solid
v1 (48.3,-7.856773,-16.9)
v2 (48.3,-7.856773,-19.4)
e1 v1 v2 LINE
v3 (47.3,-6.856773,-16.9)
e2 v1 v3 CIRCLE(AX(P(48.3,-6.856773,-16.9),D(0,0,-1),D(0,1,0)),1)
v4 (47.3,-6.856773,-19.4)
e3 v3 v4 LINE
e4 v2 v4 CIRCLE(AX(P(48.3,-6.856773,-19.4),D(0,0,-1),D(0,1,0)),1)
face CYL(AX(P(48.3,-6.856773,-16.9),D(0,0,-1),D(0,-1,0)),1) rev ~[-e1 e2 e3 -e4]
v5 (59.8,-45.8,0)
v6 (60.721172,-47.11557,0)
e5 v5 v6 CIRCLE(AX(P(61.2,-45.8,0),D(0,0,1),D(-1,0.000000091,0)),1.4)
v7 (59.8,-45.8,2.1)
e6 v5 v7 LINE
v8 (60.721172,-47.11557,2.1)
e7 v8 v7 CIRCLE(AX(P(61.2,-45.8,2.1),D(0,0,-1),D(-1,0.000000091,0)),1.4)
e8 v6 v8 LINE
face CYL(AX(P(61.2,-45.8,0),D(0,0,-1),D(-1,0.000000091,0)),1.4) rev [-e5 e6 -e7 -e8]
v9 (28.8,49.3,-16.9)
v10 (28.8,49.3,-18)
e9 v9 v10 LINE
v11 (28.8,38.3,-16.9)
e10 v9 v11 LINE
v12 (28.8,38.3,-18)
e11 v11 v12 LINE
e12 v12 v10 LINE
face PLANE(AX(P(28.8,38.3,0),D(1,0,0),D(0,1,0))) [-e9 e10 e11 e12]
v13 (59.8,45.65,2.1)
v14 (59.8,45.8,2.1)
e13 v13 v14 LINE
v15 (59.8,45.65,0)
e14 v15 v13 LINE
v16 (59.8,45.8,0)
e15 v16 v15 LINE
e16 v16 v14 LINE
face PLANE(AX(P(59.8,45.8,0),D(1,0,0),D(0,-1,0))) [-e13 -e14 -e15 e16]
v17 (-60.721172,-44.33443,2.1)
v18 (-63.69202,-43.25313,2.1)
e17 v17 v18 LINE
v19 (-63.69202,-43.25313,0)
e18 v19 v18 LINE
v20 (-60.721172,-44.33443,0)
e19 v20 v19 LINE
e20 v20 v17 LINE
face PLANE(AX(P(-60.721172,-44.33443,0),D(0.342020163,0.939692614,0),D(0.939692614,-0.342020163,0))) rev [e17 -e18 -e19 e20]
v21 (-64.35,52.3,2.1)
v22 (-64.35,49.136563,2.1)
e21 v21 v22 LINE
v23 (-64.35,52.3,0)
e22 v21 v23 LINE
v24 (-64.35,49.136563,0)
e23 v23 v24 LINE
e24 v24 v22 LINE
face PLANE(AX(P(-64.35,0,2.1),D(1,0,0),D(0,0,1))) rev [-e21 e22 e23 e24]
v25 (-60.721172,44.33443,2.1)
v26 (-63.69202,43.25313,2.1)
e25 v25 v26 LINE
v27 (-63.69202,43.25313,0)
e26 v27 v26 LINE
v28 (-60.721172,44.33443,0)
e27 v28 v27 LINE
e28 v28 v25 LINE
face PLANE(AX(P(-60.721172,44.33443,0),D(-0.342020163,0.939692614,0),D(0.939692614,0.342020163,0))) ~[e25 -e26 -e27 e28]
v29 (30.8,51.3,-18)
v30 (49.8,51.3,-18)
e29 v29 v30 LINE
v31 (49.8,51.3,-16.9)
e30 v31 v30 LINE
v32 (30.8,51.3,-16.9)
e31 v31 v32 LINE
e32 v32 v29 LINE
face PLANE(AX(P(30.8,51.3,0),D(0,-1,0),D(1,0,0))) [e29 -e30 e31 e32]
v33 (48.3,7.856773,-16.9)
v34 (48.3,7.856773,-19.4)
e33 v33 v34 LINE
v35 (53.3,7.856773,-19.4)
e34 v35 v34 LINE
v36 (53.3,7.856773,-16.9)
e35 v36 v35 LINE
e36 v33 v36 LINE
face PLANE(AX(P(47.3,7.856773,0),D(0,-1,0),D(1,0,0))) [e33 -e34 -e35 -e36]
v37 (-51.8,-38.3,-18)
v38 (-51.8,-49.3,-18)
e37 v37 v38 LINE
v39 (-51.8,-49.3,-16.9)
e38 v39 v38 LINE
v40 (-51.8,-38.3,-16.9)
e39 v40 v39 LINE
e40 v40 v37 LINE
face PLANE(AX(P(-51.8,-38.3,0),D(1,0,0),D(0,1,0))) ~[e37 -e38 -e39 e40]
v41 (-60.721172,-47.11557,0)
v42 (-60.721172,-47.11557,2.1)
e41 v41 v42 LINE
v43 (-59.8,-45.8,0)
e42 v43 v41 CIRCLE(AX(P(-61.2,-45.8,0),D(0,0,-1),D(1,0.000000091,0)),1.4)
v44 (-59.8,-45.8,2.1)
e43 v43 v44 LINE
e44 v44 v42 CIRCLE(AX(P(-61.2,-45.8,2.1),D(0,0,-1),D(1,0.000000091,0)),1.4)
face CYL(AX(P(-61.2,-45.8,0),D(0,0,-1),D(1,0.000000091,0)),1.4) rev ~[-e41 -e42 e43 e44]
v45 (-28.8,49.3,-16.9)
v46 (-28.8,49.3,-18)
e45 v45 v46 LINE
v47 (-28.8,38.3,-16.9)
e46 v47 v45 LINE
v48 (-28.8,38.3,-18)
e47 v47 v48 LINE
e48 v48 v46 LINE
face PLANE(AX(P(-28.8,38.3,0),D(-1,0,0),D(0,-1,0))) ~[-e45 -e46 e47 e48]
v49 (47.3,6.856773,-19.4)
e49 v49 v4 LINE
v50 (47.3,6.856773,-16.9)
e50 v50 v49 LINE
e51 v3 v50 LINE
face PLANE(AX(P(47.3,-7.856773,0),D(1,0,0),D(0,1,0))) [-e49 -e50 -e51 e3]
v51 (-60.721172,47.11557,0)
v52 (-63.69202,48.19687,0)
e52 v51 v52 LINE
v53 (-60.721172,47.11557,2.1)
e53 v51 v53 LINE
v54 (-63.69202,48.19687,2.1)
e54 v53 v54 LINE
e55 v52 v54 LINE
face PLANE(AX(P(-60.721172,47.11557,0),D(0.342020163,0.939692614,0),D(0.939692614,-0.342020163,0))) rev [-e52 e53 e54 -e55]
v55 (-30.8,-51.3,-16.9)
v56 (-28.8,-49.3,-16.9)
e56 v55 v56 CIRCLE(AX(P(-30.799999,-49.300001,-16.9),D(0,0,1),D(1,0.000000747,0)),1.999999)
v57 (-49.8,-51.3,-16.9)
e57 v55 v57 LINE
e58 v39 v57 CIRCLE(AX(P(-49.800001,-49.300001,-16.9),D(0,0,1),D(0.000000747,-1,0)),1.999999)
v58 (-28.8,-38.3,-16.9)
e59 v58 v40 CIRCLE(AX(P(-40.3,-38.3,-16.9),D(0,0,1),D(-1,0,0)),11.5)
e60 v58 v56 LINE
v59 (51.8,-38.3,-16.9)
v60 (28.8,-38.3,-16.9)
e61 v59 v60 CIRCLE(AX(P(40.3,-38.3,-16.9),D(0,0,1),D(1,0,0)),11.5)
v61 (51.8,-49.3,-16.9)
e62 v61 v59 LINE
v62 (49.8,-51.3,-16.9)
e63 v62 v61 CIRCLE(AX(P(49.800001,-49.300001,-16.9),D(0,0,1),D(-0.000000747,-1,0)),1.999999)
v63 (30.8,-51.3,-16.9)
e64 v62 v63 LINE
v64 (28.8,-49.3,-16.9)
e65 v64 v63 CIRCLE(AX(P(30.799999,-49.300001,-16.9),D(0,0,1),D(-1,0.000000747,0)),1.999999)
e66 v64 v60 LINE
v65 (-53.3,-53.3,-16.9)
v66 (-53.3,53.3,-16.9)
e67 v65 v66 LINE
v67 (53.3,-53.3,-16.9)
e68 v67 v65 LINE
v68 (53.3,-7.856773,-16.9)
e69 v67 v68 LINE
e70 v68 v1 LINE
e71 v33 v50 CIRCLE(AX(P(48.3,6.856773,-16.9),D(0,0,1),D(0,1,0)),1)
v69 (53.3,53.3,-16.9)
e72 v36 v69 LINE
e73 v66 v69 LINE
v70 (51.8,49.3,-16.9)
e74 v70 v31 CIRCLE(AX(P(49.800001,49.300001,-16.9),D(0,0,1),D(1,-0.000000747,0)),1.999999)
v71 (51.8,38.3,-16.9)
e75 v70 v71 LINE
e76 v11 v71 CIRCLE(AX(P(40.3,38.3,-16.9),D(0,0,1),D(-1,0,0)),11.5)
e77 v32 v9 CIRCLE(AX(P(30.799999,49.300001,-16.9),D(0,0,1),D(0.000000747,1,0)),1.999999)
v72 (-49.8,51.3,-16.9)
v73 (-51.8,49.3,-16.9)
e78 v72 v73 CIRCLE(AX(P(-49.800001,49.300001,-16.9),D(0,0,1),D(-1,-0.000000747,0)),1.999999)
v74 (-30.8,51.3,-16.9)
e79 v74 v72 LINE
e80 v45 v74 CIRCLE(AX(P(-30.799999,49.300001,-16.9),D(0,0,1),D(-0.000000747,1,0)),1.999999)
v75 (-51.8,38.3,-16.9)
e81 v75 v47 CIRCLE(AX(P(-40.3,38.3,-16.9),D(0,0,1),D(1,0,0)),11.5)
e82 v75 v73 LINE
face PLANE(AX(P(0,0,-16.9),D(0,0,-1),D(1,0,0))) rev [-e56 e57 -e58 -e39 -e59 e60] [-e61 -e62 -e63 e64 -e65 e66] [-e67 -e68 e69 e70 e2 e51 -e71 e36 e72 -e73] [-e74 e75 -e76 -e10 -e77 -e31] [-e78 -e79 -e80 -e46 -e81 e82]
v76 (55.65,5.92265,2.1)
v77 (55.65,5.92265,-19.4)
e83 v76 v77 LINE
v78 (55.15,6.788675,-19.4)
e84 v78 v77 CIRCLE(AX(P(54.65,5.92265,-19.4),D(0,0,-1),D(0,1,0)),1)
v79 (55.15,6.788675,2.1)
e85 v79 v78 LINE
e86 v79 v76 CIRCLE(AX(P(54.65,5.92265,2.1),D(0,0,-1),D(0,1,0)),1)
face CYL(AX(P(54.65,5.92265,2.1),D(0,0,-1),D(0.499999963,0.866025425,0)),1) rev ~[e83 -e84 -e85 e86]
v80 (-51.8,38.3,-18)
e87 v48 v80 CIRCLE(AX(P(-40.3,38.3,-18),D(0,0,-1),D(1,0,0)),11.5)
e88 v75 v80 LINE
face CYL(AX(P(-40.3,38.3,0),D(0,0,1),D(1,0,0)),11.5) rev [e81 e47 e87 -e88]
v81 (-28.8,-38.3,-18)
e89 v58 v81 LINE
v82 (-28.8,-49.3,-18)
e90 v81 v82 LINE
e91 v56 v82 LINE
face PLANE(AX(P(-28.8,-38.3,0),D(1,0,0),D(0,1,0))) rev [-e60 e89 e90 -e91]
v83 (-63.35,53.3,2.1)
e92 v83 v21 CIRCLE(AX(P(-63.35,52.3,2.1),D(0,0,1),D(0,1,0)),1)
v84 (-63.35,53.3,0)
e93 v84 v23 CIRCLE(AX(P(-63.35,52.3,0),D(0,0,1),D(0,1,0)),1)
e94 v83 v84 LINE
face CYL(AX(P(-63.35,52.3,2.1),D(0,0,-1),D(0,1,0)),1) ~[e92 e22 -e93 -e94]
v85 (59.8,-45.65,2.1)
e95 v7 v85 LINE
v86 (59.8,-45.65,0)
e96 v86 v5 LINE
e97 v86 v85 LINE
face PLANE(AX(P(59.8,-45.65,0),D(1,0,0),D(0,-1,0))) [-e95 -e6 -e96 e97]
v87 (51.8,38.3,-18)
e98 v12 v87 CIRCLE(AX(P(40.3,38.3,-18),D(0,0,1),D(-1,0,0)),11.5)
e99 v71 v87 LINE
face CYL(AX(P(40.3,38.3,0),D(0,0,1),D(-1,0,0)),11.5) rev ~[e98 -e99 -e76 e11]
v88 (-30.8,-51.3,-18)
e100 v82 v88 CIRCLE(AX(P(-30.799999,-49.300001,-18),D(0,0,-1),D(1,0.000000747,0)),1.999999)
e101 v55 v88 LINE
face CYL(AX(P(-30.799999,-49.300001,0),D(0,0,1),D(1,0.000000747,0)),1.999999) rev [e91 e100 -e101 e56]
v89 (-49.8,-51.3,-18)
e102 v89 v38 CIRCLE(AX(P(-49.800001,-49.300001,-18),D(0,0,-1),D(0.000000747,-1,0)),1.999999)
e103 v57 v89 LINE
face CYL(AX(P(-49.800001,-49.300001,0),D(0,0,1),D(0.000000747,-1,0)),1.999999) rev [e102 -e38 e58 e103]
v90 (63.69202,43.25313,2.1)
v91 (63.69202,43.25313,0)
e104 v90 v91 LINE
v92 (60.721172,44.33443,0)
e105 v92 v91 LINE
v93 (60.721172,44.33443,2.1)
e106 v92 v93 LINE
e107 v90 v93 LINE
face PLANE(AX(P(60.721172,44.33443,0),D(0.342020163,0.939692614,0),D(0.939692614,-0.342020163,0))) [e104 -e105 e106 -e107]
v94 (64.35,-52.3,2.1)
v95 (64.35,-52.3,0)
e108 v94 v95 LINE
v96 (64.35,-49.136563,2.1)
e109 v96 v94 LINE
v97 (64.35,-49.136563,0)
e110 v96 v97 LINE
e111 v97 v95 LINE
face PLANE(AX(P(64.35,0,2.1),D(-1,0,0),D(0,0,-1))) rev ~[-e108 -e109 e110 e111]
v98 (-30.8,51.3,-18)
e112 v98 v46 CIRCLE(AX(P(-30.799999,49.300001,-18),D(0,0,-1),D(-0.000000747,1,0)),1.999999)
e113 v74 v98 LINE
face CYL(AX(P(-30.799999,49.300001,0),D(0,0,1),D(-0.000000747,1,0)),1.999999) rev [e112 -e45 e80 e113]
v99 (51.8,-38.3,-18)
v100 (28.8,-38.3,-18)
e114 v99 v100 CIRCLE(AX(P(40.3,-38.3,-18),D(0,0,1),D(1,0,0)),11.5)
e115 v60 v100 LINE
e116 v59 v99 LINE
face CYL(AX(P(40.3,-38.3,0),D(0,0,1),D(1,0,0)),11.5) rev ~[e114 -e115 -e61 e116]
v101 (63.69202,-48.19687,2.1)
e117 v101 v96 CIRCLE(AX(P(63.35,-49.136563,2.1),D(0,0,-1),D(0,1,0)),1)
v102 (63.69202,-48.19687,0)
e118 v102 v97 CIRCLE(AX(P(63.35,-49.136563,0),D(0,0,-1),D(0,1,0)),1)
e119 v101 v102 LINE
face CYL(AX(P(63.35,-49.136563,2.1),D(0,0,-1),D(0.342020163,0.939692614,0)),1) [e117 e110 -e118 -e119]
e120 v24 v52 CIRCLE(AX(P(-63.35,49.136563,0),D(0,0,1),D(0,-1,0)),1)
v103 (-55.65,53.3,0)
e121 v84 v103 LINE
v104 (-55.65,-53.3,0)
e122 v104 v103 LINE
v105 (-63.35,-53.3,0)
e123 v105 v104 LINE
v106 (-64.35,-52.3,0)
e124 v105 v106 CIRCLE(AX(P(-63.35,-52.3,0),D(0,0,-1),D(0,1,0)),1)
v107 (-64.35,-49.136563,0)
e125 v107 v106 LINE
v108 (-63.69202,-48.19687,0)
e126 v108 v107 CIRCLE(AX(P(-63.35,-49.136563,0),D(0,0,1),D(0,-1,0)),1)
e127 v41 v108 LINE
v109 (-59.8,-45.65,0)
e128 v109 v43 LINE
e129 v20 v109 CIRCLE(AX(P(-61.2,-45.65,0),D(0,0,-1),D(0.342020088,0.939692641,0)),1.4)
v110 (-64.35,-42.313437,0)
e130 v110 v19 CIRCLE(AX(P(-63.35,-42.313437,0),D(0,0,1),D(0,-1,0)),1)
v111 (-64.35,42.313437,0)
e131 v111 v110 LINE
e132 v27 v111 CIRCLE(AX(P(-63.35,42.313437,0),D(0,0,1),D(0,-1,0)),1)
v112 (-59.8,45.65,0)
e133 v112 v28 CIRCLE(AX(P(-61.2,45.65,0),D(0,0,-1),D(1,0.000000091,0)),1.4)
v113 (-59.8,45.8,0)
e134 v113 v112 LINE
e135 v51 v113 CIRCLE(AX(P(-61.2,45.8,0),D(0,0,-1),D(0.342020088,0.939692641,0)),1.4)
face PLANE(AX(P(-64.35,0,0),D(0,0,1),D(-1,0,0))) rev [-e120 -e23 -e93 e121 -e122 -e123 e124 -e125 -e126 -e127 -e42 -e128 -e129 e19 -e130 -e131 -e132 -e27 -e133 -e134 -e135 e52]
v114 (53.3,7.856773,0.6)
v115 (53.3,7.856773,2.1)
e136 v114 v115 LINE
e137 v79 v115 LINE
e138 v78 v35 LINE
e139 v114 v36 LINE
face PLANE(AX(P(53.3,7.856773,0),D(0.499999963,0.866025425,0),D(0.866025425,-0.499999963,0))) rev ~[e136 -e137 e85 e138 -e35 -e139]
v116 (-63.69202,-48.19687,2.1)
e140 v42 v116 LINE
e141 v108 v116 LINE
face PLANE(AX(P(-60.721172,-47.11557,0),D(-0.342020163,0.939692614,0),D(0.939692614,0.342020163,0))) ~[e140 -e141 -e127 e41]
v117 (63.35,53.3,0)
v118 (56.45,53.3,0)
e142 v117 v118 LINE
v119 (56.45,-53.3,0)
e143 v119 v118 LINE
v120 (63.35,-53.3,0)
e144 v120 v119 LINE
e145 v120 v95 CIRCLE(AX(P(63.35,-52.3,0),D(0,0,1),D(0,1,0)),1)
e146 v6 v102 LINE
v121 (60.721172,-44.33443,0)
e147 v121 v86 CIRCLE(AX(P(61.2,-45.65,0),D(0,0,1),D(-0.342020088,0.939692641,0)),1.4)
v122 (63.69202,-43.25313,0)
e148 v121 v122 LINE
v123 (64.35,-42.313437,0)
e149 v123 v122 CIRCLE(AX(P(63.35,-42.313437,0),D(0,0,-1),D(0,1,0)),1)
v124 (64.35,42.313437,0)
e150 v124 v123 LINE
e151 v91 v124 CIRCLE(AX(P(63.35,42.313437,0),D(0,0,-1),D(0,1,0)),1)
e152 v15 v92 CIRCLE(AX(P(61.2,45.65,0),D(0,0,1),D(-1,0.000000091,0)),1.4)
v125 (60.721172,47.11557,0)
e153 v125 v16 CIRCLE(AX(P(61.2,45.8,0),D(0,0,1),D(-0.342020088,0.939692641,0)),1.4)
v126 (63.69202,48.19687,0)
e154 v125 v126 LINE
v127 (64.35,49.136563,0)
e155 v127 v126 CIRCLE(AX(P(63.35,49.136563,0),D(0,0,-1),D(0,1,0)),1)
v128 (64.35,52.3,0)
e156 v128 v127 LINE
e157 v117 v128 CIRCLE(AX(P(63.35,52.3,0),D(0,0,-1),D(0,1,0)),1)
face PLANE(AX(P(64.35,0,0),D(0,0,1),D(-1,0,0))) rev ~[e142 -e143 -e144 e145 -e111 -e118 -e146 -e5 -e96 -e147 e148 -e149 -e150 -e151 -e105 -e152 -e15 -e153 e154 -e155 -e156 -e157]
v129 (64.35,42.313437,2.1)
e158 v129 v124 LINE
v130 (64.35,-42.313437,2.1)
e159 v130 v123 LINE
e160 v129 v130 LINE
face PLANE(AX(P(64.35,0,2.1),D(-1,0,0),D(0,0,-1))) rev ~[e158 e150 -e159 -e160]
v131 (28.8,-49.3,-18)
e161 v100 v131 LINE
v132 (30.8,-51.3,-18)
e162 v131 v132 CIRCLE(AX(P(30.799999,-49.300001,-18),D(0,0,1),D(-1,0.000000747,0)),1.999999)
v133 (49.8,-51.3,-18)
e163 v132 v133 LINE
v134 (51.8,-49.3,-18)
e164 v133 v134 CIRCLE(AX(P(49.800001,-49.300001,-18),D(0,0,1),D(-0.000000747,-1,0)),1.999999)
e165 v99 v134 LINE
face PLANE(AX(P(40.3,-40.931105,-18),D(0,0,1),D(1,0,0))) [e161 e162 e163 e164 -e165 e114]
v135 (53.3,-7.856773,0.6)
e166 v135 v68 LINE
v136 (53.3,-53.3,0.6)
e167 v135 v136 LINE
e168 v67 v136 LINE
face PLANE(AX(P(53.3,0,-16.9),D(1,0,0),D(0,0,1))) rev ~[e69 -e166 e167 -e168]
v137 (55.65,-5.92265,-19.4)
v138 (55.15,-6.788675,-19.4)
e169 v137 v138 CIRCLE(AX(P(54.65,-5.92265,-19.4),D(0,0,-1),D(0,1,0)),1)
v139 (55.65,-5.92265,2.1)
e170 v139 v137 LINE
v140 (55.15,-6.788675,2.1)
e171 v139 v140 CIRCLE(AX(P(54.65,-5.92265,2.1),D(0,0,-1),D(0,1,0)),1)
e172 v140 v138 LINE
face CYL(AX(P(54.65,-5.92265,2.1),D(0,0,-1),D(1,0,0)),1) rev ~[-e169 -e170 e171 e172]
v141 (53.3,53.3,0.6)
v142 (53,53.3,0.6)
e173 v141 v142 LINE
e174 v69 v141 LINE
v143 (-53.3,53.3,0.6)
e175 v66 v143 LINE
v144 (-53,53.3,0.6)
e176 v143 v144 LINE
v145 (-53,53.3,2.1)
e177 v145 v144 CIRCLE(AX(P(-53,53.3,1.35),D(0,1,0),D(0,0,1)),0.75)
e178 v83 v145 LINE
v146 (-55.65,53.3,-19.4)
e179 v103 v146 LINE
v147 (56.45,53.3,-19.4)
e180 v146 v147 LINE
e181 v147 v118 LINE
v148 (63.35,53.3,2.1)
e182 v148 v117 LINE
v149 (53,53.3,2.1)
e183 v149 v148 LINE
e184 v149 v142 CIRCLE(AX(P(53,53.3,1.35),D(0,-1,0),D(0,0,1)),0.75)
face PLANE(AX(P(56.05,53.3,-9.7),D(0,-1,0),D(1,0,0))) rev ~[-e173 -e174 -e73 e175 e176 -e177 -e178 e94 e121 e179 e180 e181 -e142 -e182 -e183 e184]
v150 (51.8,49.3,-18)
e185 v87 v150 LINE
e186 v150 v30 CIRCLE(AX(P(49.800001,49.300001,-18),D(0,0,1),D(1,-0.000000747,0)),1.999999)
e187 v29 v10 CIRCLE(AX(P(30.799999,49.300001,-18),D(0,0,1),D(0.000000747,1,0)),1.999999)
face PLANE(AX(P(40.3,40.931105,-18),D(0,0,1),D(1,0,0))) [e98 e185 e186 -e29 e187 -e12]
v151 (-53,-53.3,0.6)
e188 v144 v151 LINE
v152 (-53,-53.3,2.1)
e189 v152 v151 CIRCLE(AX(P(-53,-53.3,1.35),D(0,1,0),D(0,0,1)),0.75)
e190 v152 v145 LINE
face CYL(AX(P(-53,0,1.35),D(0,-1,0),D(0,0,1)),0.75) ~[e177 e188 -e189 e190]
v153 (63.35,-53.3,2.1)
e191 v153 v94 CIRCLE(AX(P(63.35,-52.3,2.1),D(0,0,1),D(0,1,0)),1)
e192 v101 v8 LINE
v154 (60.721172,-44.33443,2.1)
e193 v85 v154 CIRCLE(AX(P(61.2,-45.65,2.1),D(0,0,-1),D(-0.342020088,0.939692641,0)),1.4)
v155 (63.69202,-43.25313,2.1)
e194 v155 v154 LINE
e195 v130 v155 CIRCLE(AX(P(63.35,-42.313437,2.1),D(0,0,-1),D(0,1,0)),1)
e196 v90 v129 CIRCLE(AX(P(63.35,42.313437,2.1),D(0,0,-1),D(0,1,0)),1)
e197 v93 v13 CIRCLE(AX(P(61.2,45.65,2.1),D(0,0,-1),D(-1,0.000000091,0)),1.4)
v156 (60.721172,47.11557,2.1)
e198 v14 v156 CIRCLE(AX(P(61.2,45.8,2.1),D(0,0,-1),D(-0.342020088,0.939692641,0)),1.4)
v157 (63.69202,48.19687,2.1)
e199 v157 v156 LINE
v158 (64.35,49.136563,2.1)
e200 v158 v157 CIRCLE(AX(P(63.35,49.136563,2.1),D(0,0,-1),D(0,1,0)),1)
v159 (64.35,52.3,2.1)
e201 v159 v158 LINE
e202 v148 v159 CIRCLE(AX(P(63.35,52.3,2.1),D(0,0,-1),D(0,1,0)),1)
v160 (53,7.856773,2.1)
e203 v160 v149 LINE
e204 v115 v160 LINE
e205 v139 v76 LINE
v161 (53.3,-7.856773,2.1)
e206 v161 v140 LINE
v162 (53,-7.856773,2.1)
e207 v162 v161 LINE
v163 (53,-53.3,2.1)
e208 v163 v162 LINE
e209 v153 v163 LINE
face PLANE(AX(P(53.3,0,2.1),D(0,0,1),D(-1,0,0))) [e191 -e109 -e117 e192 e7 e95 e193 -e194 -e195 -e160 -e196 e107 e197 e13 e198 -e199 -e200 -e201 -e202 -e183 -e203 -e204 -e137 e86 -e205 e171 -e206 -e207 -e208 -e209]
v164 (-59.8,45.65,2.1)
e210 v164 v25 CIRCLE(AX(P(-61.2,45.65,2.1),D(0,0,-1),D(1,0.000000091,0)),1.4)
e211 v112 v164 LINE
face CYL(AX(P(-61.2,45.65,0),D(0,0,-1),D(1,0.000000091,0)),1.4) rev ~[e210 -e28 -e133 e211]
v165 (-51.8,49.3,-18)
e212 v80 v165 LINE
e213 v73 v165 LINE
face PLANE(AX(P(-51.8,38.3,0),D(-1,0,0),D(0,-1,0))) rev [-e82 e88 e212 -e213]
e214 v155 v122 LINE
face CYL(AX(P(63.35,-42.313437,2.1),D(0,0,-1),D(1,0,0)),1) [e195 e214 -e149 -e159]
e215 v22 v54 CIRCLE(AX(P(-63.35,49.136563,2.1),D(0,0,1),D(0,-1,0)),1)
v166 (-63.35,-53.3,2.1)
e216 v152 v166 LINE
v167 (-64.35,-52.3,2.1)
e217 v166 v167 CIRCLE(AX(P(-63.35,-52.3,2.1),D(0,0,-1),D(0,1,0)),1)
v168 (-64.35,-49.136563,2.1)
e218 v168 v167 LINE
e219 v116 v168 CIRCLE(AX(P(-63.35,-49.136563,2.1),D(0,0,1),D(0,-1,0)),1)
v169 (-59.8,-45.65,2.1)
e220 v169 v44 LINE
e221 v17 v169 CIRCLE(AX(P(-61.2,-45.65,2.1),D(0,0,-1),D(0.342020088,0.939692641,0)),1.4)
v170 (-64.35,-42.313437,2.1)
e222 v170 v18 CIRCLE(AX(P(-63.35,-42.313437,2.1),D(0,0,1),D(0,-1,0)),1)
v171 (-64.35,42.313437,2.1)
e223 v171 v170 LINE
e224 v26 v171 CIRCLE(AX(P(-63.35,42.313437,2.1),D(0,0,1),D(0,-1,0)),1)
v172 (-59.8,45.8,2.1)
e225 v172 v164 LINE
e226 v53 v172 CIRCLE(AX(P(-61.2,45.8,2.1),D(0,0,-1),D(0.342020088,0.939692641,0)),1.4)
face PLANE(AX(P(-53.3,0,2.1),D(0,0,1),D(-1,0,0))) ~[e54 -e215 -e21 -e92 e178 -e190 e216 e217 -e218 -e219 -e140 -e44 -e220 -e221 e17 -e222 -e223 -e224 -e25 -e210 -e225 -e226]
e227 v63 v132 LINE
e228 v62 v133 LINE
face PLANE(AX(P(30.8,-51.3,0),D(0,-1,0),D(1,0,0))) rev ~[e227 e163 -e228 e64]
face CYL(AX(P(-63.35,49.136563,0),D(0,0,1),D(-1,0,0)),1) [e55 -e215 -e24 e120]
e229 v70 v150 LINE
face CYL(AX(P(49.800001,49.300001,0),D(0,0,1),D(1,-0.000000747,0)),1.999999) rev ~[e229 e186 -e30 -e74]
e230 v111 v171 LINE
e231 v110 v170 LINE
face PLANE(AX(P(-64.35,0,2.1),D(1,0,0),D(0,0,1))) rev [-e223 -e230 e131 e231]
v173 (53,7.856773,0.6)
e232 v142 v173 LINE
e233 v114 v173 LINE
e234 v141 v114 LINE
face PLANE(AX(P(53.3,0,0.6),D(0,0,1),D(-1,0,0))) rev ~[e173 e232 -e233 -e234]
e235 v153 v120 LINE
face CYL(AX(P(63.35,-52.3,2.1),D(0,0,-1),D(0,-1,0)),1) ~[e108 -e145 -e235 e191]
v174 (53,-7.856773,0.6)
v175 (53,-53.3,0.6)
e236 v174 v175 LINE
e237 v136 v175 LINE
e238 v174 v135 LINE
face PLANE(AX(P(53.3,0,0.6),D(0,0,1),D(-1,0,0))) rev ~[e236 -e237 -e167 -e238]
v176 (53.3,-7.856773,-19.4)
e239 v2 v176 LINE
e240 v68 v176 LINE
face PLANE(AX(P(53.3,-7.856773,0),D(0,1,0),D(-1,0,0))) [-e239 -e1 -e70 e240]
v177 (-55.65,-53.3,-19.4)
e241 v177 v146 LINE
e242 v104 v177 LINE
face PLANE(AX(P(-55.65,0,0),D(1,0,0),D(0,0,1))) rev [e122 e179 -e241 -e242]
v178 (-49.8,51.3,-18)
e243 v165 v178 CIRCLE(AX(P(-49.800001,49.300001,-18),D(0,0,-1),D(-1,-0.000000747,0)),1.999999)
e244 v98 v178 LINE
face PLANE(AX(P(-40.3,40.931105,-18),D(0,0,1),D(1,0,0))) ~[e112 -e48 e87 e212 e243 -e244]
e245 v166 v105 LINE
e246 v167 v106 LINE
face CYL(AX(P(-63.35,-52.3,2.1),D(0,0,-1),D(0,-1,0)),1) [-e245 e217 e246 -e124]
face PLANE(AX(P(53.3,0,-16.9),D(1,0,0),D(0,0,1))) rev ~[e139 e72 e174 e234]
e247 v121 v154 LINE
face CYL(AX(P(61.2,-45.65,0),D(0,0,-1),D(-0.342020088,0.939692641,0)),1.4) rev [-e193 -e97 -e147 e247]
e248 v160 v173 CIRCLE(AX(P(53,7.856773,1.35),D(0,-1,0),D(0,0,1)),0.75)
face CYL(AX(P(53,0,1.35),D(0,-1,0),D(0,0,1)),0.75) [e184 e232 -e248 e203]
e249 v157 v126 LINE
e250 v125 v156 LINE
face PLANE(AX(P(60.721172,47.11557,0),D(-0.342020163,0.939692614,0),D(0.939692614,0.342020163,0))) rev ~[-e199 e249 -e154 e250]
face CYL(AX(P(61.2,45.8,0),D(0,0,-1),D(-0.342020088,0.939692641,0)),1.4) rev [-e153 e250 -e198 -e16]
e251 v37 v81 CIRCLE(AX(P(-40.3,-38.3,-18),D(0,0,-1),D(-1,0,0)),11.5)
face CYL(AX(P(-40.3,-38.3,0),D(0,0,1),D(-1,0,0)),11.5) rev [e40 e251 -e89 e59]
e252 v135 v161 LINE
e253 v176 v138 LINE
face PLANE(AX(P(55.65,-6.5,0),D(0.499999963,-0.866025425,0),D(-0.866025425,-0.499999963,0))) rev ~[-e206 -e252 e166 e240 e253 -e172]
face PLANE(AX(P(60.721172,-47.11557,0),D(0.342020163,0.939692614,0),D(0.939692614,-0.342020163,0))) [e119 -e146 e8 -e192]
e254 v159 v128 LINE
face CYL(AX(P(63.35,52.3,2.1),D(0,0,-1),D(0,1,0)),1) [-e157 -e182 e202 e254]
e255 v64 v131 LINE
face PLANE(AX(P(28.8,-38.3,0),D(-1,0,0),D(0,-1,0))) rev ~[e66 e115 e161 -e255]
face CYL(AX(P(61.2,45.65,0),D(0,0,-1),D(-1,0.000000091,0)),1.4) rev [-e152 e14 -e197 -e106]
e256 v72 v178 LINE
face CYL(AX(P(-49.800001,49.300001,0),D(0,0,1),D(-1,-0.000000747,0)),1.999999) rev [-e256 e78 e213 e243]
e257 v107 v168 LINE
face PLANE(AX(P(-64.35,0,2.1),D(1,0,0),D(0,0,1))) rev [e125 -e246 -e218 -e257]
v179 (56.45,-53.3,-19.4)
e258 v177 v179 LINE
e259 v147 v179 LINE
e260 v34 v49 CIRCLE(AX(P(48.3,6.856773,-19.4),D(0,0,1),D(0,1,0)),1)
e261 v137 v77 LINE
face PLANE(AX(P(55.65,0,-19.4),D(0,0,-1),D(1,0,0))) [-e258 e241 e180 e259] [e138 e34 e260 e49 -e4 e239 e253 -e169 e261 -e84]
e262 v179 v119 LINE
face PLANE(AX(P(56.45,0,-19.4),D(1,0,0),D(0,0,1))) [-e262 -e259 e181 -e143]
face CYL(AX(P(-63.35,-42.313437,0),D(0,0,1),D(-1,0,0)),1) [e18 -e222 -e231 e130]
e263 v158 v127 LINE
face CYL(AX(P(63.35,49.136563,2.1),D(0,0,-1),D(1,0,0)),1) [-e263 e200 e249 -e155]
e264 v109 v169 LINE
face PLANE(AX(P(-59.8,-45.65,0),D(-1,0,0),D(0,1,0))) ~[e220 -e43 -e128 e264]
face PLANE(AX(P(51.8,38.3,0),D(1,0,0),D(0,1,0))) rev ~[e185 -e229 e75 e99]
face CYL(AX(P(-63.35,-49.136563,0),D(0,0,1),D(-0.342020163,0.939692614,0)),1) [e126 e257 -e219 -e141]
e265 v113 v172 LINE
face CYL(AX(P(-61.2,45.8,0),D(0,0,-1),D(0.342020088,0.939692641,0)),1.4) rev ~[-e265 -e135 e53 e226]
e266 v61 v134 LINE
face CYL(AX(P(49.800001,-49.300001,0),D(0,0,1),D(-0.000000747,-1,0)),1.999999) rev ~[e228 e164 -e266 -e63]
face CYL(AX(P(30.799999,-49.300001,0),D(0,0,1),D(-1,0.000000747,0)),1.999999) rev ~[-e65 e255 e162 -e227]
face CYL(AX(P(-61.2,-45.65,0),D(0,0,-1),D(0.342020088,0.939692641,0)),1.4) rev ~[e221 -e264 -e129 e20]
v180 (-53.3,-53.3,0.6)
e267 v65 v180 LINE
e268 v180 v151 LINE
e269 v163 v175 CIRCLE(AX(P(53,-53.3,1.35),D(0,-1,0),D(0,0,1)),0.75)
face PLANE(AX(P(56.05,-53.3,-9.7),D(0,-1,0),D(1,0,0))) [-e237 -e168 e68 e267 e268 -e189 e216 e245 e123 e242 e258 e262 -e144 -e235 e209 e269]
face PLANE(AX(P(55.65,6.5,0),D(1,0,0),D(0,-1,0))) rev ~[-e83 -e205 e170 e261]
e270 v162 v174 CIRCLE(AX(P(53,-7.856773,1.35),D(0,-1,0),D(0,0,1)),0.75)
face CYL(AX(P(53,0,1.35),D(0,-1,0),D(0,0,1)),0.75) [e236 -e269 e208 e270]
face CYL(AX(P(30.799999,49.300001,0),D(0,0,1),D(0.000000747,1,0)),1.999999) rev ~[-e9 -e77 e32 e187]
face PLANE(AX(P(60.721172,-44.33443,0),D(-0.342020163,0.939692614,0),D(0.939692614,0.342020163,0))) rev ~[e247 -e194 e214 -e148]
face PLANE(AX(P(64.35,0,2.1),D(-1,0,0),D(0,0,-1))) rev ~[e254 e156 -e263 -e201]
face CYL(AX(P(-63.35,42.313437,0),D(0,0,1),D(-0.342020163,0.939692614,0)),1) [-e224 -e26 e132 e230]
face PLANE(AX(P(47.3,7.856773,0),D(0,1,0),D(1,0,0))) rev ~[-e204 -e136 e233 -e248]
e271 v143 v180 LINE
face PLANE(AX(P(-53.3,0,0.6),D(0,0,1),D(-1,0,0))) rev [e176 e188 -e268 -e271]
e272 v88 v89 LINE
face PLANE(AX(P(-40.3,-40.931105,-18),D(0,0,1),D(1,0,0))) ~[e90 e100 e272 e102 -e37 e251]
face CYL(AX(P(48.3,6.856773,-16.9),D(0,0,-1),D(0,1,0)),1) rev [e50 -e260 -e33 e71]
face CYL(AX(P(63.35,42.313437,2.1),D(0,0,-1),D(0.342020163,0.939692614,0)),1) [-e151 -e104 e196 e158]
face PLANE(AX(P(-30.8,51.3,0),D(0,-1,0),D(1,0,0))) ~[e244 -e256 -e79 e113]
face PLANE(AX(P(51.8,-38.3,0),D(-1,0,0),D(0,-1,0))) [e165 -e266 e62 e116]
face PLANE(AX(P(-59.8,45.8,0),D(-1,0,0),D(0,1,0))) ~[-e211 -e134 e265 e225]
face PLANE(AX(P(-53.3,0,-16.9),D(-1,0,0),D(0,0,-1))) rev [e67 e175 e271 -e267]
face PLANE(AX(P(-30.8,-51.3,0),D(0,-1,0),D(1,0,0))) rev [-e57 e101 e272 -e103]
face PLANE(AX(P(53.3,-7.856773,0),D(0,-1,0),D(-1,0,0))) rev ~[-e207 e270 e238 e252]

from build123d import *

# Parameters (mm, degrees)
PAD001_DEPTH         = 53.3
PAD002_DEPTH         = 53.3
POCKET_DEPTH         = 18
POCKET001_DEPTH      = 5
SKETCH_W             = 0.8
SKETCH_H             = 19.4
PAD_DEPTH            = 53.3
POCKET004_DEPTH      = 19.401
POCKET004_DEPTH_BACK = -2.101
FILLET_R             = 1
FILLET001_R          = 1


with BuildPart() as part:
    # Sketch001 → Pad001 (new body, symmetric)
    with BuildSketch(Plane.XZ):
        Polygon((64.35, 0), (55.65, 0), (55.65, -19.4), (0, -19.4), (0, -16.9), (53.3, -16.9), (53.3, 2.1), (64.35, 2.1), align=None)
    pad001 = extrude(amount=PAD001_DEPTH, both=True)

    # Sketch002 → Pad002 (join, symmetric)
    with BuildSketch(Plane.XZ):
        with BuildLine():
            ThreePointArc((53, 2.1), (52.25, 1.35), (53, 0.6))
            Line((53.3, 0.6), (53, 0.6))
            Line((53.3, 2.1), (53.3, 0.6))
            Line((53.3, 2.1), (53, 2.1))
        make_face()
    pad002 = extrude(amount=PAD002_DEPTH, both=True)

    # Sketch003 → Pocket (cut)
    with BuildSketch(Plane.XY):
        with BuildLine():
            ThreePointArc((28.8, 38.3), (40.3, 26.8), (51.8, 38.3))
            Line((51.8, 38.3), (51.8, 49.3))
            ThreePointArc((51.8, 49.3), (51.214214, 50.714214), (49.8, 51.3))
            Line((30.8, 51.3), (49.8, 51.3))
            ThreePointArc((30.8, 51.3), (29.385786, 50.714214), (28.8, 49.3))
            Line((28.8, 38.3), (28.8, 49.3))
        make_face()
        with BuildLine():
            ThreePointArc((51.8, -38.3), (40.3, -26.8), (28.8, -38.3))
            Line((28.8, -38.3), (28.8, -49.3))
            ThreePointArc((28.8, -49.3), (29.385786, -50.714214), (30.8, -51.3))
            Line((30.8, -51.3), (49.8, -51.3))
            ThreePointArc((49.8, -51.3), (51.214214, -50.714214), (51.8, -49.3))
            Line((51.8, -38.3), (51.8, -49.3))
        make_face()
    pocket = extrude(amount=-POCKET_DEPTH, mode=Mode.SUBTRACT)

    # Sketch004 → Pocket001 (cut)
    with BuildSketch(Plane.XY):
        with BuildLine():
            ThreePointArc((59.8, -45.8), (60.053187, -46.603007), (60.721172, -47.11557))
            Line((60.721172, -47.11557), (64.5, -48.490951))
            Line((64.5, -42.959049), (64.5, -48.490951))
            Line((60.721172, -44.33443), (64.5, -42.959049))
            ThreePointArc((60.721172, -44.33443), (60.053187, -44.846993), (59.8, -45.65))
            Line((59.8, -45.65), (59.8, -45.8))
        make_face()
        with BuildLine():
            ThreePointArc((60.721172, 47.11557), (60.053187, 46.603007), (59.8, 45.8))
            Line((59.8, 45.8), (59.8, 45.65))
            ThreePointArc((59.8, 45.65), (60.053187, 44.846993), (60.721172, 44.33443))
            Line((60.721172, 44.33443), (64.5, 42.959049))
            Line((64.5, 48.490951), (64.5, 42.959049))
            Line((60.721172, 47.11557), (64.5, 48.490951))
        make_face()
    pocket001 = extrude(amount=POCKET001_DEPTH, mode=Mode.SUBTRACT)

    # Mirrored: Pad001, Pad002, Pocket, Pocket001 across YZ
    add(pad001.mirror(Plane.YZ))
    add(pad002.mirror(Plane.YZ))
    add(pocket.mirror(Plane.YZ), mode=Mode.SUBTRACT)
    add(pocket001.mirror(Plane.YZ), mode=Mode.SUBTRACT)

    # Sketch → Pad (join, symmetric)
    with BuildSketch(Plane.XZ):
        with Locations((56.05, -9.7)):
            Rectangle(SKETCH_W, SKETCH_H)
    extrude(amount=PAD_DEPTH, both=True)

    # Sketch005 → Pocket004 (cut, two sides)
    with BuildSketch(Plane.XY) as pocket004_sk:
        Polygon((47.3, -7.856773), (47.3, 7.856773), (53.3, 7.856773), (55.65, 6.5), (55.65, -6.5), (53.3, -7.856773), align=None)
    extrude(amount=-POCKET004_DEPTH, mode=Mode.SUBTRACT)
    extrude(pocket004_sk.sketch, amount=-POCKET004_DEPTH_BACK, mode=Mode.SUBTRACT)

    # Fillet
    fillet_edges = [part.edges().sort_by_distance(p)[0] for p in [
        (64.35, -53.3, 1.05),
        (64.35, -43.013645, 1.05),
        (64.35, -48.436355, 1.05),
        (64.35, 43.013645, 1.05),
        (64.35, 48.436355, 1.05),
        (64.35, 53.3, 1.05),
        (-64.35, 53.3, 1.05),
        (-64.35, 48.436355, 1.05),
        (-64.35, 43.013645, 1.05),
        (-64.35, -48.436355, 1.05),
        (-64.35, -53.3, 1.05),
        (-64.35, -43.013645, 1.05),
    ]]
    fillet(fillet_edges, radius=FILLET_R)

    # Fillet001
    fillet001_edges = [part.edges().sort_by_distance(p)[0] for p in [
        (55.65, -6.5, -8.65),
        (55.65, 6.5, -8.65),
        (47.3, -7.856773, -18.15),
        (47.3, 7.856773, -18.15),
    ]]
    fillet(fillet001_edges, radius=FILLET001_R)


solid = part.part
